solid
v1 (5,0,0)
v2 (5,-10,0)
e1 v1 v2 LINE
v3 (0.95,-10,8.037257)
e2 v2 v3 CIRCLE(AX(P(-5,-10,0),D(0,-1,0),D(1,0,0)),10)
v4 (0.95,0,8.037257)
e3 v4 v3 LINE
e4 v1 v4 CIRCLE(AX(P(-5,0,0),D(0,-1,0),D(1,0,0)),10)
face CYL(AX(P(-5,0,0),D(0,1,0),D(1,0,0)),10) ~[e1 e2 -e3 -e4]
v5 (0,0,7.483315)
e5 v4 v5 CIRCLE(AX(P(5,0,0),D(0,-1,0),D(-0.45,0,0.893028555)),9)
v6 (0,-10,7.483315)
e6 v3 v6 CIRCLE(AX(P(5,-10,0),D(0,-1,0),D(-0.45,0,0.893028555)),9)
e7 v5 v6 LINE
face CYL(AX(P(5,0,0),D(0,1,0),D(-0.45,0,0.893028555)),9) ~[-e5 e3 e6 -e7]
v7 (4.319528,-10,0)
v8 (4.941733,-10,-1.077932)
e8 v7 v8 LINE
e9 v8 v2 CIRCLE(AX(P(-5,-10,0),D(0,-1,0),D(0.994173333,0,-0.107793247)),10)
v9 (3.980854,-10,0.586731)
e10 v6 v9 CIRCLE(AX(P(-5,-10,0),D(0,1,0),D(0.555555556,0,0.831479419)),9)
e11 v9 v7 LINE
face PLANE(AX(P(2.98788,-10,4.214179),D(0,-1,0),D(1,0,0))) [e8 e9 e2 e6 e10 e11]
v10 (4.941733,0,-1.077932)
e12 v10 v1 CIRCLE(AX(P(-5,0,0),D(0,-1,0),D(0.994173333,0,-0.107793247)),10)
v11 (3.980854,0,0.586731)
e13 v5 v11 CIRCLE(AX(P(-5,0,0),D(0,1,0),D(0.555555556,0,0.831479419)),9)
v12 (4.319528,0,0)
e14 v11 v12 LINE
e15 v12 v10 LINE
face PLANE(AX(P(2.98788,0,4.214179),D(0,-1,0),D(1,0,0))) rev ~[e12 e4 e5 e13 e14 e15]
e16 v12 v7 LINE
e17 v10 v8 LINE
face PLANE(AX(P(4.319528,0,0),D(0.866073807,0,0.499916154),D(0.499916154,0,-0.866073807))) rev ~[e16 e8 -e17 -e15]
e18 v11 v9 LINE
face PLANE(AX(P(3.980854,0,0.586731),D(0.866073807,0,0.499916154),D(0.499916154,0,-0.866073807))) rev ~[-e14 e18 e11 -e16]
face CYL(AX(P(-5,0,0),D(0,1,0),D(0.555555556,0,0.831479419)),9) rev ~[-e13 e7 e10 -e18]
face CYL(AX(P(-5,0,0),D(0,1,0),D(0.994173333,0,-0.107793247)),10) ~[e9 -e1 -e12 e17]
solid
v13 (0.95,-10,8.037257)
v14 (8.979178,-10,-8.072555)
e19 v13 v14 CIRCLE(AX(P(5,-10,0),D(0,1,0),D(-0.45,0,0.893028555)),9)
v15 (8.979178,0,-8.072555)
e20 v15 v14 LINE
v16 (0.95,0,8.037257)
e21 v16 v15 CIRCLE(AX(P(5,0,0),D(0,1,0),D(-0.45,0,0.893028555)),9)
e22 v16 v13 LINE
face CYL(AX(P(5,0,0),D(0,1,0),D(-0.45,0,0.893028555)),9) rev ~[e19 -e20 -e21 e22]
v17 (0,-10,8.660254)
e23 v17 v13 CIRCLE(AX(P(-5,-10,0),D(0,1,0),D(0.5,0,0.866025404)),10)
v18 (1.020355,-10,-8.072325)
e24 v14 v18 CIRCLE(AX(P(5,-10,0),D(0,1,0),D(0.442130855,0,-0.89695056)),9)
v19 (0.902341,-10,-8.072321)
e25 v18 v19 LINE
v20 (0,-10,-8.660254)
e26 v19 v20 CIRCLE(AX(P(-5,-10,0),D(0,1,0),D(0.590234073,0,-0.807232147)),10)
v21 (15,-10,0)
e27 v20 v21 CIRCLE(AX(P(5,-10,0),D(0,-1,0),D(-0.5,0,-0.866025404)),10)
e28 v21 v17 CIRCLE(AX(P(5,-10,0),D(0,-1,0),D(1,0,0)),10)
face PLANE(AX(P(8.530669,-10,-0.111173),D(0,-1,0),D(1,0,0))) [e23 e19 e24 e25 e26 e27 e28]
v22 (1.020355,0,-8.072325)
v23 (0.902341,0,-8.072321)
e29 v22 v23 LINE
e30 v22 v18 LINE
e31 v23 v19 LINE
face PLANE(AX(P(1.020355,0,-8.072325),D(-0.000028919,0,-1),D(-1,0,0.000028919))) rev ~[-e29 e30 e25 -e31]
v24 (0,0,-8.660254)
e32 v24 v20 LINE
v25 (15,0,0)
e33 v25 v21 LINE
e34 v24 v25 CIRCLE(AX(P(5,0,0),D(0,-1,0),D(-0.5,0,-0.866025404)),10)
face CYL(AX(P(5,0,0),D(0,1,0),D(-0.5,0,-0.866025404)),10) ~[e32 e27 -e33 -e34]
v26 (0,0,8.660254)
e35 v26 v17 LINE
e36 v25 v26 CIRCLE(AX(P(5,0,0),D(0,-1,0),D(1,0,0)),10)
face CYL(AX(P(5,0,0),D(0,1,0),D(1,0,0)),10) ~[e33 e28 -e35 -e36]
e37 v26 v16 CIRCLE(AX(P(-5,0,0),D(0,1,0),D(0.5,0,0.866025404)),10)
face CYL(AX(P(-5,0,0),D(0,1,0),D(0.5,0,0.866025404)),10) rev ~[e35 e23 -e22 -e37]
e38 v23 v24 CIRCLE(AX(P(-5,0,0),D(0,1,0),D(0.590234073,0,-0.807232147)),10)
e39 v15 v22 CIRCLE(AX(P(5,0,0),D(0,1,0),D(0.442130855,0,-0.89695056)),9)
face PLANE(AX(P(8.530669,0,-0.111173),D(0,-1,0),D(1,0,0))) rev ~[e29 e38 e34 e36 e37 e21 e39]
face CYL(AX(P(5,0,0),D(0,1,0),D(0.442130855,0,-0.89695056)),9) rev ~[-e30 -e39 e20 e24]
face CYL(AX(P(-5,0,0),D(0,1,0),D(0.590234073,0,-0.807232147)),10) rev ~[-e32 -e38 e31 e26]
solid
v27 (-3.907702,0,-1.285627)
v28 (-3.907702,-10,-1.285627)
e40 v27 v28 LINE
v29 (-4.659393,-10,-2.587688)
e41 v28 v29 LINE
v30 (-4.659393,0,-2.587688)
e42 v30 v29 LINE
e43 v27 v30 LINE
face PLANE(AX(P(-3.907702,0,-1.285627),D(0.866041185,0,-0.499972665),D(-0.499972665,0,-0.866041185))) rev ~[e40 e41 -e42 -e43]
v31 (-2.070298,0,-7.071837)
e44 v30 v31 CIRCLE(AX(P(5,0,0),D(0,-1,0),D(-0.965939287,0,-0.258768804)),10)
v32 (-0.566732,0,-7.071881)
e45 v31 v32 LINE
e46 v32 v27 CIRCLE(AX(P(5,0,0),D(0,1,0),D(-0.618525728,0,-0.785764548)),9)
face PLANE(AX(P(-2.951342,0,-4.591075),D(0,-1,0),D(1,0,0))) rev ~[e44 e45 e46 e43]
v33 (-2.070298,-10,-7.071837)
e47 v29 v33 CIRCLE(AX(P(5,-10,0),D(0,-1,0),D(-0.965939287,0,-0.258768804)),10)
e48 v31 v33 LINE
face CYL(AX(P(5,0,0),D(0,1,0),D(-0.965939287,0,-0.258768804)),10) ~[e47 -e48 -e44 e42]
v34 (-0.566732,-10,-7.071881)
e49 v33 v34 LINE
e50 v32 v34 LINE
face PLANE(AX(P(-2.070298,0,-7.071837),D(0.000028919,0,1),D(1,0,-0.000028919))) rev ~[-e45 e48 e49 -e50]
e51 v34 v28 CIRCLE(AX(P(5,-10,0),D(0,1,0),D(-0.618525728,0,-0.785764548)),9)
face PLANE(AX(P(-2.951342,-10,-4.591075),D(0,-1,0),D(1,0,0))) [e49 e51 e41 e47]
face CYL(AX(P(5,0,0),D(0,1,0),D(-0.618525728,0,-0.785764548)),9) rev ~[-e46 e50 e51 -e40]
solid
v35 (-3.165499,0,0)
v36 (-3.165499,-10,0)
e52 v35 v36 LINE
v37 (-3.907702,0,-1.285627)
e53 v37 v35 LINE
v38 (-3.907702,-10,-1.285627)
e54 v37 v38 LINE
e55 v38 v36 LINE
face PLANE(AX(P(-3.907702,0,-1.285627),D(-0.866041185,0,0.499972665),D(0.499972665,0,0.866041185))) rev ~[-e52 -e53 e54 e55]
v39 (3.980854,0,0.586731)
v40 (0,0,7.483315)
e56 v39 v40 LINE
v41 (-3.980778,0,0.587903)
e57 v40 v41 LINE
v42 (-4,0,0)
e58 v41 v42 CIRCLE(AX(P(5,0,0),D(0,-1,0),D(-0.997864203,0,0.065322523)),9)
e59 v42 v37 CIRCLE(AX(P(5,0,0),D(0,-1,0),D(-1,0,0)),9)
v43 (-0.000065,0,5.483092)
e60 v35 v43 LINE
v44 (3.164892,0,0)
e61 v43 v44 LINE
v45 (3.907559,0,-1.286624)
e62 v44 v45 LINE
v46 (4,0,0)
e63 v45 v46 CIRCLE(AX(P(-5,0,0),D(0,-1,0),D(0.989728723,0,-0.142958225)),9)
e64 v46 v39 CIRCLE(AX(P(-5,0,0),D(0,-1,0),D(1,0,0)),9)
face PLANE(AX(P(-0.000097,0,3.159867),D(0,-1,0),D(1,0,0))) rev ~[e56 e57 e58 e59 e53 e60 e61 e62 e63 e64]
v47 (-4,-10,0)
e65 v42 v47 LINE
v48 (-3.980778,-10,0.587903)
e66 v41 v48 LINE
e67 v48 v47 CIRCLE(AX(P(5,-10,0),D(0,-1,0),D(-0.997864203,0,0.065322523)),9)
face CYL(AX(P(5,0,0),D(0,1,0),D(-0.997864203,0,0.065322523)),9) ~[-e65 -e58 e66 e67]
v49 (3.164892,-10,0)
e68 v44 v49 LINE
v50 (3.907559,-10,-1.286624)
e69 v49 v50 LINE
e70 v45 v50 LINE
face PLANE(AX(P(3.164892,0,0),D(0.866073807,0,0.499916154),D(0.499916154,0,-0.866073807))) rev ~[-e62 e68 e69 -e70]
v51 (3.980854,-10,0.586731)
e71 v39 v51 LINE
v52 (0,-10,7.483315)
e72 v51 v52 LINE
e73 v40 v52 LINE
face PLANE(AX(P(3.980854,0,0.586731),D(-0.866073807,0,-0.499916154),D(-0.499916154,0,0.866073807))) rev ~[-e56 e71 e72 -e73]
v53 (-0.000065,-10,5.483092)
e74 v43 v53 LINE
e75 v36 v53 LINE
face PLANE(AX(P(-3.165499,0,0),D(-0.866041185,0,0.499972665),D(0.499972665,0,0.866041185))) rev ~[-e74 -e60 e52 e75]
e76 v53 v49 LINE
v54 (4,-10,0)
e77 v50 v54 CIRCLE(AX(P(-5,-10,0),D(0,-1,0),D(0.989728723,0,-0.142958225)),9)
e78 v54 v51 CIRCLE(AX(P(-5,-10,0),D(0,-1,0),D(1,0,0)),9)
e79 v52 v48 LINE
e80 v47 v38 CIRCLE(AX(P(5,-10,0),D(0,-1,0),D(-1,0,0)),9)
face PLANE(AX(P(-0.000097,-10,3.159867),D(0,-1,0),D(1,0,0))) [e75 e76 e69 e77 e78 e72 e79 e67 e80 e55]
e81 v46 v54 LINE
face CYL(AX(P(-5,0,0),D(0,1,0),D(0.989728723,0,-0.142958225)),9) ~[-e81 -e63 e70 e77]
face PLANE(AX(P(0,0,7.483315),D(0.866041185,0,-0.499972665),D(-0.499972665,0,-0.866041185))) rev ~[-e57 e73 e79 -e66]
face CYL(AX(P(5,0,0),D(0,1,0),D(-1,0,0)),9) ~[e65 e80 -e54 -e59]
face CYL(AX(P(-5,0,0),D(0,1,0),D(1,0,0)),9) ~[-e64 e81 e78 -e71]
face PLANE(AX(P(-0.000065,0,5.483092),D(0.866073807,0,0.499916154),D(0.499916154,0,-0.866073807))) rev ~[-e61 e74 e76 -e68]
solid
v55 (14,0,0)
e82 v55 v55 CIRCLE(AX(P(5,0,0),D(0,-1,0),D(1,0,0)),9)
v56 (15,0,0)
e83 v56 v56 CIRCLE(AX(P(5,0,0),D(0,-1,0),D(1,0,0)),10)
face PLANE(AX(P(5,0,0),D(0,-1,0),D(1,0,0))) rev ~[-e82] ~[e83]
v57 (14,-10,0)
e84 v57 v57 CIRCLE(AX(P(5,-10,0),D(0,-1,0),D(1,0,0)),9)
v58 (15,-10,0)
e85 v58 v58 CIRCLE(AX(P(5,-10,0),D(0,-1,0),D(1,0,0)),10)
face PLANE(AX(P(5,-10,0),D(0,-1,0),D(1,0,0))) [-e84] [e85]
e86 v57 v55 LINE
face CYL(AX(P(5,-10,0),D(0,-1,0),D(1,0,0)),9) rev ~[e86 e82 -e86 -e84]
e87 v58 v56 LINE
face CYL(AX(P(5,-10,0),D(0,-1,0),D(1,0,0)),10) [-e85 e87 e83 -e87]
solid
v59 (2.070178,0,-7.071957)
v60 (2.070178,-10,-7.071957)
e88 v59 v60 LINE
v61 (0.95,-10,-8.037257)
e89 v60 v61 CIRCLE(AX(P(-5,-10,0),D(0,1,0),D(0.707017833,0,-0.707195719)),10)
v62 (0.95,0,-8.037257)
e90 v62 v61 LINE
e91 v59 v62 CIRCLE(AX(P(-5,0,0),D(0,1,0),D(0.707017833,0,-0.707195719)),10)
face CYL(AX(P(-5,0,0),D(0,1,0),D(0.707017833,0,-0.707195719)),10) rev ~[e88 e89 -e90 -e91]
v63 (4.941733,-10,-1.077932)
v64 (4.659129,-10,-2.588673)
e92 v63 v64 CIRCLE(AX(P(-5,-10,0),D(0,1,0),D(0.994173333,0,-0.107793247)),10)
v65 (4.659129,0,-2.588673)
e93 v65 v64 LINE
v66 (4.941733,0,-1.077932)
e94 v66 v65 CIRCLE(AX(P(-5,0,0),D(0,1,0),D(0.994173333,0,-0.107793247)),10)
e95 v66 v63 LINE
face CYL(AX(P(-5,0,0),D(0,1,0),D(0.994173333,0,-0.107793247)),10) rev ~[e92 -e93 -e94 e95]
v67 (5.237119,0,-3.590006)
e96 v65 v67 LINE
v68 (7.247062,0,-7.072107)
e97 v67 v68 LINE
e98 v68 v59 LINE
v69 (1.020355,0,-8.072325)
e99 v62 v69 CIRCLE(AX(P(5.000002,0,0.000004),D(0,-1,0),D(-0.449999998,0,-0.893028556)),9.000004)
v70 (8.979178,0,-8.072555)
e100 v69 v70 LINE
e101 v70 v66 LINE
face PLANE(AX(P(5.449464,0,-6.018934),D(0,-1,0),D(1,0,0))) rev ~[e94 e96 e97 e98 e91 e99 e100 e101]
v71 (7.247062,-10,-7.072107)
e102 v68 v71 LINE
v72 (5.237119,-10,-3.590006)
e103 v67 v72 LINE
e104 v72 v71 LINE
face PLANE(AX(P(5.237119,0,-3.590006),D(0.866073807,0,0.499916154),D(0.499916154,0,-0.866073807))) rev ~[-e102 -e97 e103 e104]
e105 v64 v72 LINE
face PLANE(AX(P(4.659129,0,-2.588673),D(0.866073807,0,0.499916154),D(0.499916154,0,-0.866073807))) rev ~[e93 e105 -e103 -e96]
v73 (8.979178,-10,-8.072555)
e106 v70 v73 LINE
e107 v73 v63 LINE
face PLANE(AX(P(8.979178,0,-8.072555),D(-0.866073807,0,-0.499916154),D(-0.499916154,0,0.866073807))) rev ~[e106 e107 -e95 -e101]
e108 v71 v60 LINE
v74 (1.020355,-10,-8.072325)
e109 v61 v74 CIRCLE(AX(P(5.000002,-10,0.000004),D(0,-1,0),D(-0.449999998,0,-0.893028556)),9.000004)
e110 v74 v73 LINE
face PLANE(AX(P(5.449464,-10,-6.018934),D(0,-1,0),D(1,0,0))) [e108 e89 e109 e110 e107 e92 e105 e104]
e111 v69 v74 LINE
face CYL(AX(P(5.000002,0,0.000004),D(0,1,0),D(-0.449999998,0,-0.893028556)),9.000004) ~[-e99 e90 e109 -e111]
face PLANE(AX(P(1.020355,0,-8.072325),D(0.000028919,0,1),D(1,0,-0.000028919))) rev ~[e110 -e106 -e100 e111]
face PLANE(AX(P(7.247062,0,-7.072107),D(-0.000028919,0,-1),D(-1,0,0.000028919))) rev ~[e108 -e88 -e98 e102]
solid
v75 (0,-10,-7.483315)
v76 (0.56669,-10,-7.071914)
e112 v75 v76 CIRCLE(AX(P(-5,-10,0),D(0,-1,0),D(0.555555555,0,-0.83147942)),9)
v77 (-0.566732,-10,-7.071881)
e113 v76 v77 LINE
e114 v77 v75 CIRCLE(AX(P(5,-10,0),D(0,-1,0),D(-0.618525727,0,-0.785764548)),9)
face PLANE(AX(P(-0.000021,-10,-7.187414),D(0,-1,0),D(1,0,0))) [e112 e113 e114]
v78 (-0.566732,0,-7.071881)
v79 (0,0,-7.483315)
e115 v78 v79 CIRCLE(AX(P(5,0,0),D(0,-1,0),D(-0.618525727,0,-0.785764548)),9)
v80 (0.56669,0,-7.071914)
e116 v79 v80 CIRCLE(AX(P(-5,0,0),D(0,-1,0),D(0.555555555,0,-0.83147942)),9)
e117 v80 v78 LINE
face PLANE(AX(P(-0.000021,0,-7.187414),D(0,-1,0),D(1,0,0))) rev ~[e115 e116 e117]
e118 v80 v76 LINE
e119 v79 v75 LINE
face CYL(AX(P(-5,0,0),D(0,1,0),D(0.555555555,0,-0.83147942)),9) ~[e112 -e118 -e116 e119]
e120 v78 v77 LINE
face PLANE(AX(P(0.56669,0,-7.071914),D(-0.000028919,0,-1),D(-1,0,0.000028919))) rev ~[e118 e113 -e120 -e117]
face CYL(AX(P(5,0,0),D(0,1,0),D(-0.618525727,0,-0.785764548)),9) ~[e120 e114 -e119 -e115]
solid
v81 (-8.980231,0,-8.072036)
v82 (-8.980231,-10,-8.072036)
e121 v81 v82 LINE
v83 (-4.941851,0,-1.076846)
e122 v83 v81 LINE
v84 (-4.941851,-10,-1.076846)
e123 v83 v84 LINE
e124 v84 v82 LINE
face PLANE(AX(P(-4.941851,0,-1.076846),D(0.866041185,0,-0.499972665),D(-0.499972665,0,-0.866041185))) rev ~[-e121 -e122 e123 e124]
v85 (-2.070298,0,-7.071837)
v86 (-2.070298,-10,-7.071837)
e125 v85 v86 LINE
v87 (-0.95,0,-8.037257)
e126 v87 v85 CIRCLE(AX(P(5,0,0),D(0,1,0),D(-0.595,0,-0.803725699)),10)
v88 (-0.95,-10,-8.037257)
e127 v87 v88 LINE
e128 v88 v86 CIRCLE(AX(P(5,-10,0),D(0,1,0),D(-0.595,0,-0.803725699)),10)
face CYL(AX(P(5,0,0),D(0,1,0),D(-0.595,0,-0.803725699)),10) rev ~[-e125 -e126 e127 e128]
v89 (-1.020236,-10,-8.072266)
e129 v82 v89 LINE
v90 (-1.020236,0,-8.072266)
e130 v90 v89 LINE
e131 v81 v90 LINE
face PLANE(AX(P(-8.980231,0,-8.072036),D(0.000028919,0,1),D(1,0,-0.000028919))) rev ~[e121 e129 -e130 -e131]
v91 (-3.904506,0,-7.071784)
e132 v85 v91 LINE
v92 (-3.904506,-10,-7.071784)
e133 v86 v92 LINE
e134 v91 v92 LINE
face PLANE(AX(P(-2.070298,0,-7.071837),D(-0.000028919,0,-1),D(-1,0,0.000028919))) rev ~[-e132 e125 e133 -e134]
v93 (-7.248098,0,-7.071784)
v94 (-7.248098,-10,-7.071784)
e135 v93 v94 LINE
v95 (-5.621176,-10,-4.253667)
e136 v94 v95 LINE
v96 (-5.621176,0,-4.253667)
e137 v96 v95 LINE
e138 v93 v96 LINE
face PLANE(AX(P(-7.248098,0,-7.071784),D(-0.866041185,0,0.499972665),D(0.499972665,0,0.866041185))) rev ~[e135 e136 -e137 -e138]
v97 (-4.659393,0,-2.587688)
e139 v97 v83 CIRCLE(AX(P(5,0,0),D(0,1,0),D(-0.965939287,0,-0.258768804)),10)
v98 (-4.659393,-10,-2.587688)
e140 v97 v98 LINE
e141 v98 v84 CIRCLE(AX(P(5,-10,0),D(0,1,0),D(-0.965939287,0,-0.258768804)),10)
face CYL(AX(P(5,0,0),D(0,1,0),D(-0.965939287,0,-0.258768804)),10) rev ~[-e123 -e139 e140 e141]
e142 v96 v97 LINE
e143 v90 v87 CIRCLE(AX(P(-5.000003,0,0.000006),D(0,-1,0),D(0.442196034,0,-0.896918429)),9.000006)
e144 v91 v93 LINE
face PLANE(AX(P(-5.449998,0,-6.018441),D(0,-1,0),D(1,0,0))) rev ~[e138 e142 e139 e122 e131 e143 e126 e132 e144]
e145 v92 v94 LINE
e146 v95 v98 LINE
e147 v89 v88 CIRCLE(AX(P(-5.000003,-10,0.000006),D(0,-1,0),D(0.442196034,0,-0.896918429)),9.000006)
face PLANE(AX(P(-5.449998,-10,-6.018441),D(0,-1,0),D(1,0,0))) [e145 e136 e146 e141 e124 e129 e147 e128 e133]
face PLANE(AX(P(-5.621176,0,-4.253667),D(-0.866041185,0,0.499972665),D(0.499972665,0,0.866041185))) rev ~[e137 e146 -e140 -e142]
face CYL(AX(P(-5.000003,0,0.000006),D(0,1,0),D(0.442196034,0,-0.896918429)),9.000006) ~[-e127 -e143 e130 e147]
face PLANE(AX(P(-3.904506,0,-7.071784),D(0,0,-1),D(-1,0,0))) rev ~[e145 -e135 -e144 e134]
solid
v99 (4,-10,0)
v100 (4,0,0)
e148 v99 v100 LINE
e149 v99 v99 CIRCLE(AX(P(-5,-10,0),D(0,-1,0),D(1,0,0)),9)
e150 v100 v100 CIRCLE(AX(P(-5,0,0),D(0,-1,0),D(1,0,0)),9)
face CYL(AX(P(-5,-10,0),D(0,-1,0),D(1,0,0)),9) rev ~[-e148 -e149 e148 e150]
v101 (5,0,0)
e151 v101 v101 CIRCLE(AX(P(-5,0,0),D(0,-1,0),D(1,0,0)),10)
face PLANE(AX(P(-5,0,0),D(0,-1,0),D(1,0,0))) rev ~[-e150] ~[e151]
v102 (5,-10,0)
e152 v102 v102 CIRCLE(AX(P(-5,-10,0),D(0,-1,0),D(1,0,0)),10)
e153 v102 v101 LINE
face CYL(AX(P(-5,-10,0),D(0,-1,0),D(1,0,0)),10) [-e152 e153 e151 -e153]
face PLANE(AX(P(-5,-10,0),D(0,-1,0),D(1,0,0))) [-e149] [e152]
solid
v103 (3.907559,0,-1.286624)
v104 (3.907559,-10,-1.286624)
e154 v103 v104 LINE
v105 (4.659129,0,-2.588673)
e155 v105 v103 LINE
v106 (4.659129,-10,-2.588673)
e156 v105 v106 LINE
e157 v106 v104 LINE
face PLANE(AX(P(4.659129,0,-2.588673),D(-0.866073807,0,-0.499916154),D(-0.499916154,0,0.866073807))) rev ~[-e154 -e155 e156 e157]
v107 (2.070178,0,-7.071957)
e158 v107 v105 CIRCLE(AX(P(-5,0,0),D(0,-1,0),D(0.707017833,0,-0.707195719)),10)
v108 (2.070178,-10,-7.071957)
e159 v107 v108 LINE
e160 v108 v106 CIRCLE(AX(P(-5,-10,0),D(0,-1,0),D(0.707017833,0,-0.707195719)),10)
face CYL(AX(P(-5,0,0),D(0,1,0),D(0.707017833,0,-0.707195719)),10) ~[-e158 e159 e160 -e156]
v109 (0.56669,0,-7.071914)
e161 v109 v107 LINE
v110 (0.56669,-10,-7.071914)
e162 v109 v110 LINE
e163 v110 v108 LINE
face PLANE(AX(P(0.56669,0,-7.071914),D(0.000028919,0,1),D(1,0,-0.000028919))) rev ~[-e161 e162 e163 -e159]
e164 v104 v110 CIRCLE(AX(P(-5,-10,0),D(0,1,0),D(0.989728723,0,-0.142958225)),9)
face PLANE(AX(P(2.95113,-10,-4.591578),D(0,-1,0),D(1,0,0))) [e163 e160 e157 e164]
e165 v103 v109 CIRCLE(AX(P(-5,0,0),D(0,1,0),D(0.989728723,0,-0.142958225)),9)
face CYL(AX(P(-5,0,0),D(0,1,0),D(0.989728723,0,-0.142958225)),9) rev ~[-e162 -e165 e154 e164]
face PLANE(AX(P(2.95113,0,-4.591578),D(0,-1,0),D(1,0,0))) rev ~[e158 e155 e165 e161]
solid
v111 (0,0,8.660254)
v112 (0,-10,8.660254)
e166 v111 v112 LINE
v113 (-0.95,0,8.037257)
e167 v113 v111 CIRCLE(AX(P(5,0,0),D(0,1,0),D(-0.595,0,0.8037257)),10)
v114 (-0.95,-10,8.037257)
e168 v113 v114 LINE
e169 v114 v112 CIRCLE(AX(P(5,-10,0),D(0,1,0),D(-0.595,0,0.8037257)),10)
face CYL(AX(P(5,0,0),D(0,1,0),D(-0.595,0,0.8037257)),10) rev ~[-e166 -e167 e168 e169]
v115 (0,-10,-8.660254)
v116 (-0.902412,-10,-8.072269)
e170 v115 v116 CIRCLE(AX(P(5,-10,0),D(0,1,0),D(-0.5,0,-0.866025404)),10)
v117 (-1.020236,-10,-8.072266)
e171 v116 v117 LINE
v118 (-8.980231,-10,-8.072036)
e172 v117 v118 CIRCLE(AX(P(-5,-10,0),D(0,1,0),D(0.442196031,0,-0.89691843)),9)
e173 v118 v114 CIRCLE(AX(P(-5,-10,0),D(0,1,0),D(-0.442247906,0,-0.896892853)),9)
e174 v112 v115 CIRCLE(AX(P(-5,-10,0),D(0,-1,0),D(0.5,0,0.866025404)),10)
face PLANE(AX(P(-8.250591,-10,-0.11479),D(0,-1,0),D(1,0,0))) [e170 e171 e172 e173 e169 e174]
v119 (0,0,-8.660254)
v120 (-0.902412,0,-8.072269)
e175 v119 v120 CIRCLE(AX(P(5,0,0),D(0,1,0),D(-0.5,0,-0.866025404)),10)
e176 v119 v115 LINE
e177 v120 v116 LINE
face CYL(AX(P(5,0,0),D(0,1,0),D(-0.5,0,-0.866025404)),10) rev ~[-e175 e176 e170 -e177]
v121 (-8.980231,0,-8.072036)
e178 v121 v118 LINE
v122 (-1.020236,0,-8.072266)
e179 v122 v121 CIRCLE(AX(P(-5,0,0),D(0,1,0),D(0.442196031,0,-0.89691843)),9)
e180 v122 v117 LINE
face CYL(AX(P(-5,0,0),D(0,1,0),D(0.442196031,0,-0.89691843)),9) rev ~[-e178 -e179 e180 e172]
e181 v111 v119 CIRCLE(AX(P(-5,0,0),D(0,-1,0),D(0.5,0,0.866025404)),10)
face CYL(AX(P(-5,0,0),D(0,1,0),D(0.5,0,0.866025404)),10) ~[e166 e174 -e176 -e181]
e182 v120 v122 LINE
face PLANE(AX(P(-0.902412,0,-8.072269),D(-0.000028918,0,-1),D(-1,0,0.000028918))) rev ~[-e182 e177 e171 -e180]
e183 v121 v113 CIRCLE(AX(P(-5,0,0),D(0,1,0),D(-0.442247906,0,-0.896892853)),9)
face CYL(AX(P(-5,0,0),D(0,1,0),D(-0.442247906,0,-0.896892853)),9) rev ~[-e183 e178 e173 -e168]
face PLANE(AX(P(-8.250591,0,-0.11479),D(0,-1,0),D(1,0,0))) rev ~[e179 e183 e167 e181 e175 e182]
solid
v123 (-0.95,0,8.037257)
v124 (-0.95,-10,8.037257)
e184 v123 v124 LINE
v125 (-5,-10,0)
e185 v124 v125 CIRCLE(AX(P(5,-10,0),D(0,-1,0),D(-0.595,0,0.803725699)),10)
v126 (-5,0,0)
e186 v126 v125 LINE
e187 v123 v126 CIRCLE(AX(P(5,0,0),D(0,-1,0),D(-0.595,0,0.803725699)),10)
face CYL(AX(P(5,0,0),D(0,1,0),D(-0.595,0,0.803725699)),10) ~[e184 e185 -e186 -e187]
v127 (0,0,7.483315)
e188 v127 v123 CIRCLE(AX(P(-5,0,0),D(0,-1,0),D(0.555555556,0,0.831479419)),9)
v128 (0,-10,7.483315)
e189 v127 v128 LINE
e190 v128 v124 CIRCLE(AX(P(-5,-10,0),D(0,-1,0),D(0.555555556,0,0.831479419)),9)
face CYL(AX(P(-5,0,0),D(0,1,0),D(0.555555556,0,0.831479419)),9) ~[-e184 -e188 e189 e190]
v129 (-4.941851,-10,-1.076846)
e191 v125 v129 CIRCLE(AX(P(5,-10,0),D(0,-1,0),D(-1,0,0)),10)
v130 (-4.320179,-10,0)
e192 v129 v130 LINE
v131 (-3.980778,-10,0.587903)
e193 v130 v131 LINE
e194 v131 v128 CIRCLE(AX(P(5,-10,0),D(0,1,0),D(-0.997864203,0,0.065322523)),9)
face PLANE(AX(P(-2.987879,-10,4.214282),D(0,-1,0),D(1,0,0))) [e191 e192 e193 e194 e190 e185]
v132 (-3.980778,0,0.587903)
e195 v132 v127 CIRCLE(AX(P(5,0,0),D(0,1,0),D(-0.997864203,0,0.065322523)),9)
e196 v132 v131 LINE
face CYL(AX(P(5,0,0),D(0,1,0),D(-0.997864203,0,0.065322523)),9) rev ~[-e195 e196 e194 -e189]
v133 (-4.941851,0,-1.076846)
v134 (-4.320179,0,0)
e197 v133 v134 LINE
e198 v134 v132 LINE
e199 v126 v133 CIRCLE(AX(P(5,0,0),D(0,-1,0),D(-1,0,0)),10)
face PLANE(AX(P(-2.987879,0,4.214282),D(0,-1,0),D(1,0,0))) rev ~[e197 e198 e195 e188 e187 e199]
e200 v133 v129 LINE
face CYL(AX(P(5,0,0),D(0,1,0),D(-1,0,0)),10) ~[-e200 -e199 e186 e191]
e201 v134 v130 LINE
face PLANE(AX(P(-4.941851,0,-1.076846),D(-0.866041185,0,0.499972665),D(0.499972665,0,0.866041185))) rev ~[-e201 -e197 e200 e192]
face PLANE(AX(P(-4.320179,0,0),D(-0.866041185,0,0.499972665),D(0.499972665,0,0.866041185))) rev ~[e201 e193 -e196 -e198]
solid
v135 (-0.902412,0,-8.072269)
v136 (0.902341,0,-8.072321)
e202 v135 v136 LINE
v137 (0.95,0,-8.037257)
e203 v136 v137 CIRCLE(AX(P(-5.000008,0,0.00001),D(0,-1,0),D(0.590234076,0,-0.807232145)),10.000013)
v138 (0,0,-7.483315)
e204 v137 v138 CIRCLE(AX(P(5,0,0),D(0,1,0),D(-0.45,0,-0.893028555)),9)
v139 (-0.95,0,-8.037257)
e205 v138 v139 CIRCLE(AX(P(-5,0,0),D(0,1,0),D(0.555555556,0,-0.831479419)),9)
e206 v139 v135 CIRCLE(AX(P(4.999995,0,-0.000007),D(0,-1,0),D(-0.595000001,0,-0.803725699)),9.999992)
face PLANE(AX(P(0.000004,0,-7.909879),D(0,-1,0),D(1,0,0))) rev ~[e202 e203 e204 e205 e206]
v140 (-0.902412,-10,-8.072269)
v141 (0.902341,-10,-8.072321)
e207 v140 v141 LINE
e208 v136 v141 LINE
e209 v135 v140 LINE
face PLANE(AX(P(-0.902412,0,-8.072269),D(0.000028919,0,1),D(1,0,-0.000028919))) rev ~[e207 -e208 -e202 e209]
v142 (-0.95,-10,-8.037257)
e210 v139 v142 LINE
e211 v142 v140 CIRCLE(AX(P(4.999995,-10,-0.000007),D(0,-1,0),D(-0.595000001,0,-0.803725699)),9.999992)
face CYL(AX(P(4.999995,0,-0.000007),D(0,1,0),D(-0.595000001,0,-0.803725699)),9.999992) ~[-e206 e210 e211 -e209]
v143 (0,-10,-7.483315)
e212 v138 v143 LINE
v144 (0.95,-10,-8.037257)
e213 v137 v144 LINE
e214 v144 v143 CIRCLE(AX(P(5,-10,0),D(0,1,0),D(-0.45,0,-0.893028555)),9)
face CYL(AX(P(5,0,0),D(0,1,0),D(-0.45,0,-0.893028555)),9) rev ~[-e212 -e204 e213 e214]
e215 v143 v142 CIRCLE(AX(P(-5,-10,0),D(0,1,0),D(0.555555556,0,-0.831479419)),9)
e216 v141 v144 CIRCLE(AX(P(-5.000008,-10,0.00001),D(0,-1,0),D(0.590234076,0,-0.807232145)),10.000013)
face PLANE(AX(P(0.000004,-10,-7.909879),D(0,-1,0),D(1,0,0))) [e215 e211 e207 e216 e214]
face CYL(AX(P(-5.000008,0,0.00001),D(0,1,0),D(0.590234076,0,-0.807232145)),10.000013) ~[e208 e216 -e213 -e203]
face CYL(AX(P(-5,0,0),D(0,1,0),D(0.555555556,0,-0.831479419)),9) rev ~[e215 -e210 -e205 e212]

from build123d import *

# Parameters (mm, degrees)
F1_DEPTH = 10
F2_R     = 10
F2_R_2   = 9
F3_DEPTH = 10
F4_R     = 10
F4_R_2   = 9
F5_DEPTH = 10


with BuildPart() as f1:
    # F0 (on Front) → F1 (new body)
    with BuildSketch(Plane.XZ):
        with BuildLine():
            ThreePointArc((0, 8.6602540378), (0.4838541491, 8.3622570919), (0.95, 8.0372569948))
            ThreePointArc((0.95, 8.0372569948), (9.7196398168, 7.6632238647), (14, 0))
            ThreePointArc((14, 0), (12.6424014311, -4.7532831144), (8.9791776966, -8.0725550391))
            ThreePointArc((8.9791776966, -8.0725550391), (4.9997397328, -8.9999999962), (1.0203554164, -8.0723248813))
            Line((1.0203554164, -8.0723248813), (0.9023407315, -8.0723214684))
            ThreePointArc((0.9023407315, -8.0723214684), (0.4590909988, -8.3784440958), (0, -8.6602540378))
            ThreePointArc((0, -8.6602540378), (10, -8.6602540378), (15, 0))
            ThreePointArc((15, 0), (10, 8.6602540378), (0, 8.6602540378))
        make_face()
    extrude(amount=F1_DEPTH)


with BuildPart() as f1b:
    # F0 (on Front) → F1, piece 2 (new body)
    with BuildSketch(Plane.XZ):
        with BuildLine():
            ThreePointArc((-8.9802311497, -8.0720356785), (-13.054721878, 4.015153231), (-0.95, 8.0372569948))
            ThreePointArc((-0.95, 8.0372569948), (-0.4838541491, 8.3622570919), (0, 8.6602540378))
            ThreePointArc((0, 8.6602540378), (-15, 0), (0, -8.6602540378))
            ThreePointArc((0, -8.6602540378), (-0.4591280413, -8.3784199602), (-0.9024121095, -8.0722692775))
            Line((-0.9024121095, -8.0722692775), (-1.0202357206, -8.0722658703))
            ThreePointArc((-1.0202357206, -8.0722658703), (-5.0002602672, -8.9999999962), (-8.9802311497, -8.0720356785))
        make_face()
    extrude(amount=F1_DEPTH)


with BuildPart() as f1c:
    # F0 (on Front) → F1, piece 3 (new body)
    with BuildSketch(Plane.XZ):
        with BuildLine():
            Line((-5.6211760394, -4.2536667951), (-4.6593928686, -2.5876880434))
            ThreePointArc((-4.6593928686, -2.5876880434), (-4.8296923359, -1.8377019841), (-4.9418510408, -1.0768462669))
            Line((-4.9418510408, -1.0768462669), (-8.9802311497, -8.0720356785))
            Line((-8.9802311497, -8.0720356785), (-1.0202357206, -8.0722658703))
            ThreePointArc((-1.0202357206, -8.0722658703), (-0.9850797018, -8.0548379871), (-0.95, -8.0372569948))
            ThreePointArc((-0.95, -8.0372569948), (-1.5280203219, -7.5752855178), (-2.0702980916, -7.0718374484))
            Line((-2.0702980916, -7.0718374484), (-3.9045057144, -7.0717844057))
            Line((-3.9045057144, -7.0717844057), (-7.2480984047, -7.0717844057))
            Line((-7.2480984047, -7.0717844057), (-5.6211760394, -4.2536667951))
        make_face()
    extrude(amount=F1_DEPTH)


with BuildPart() as f1d:
    # F0 (on Front) → F1, piece 4 (new body)
    with BuildSketch(Plane.XZ):
        with BuildLine():
            Line((-4, 0), (-3.1654993788, 0))
            Line((-3.1654993788, 0), (-6.52584e-05, 5.4830923897))
            Line((-6.52584e-05, 5.4830923897), (3.1648918599, 0))
            Line((3.1648918599, 0), (4, 0))
            ThreePointArc((4, 0), (3.9952123452, 0.2935214892), (3.9808544745, 0.5867306941))
            Line((3.9808544745, 0.5867306941), (0, 7.4833147735))
            Line((0, 7.4833147735), (-3.9807778283, 0.5879027113))
            ThreePointArc((-3.9807778283, 0.5879027113), (-3.9951931734, 0.2941084365), (-4, 0))
        make_face()
        with BuildLine():
            Line((-3.9077024465, -1.2856271329), (-3.1654993788, 0))
            Line((-3.1654993788, 0), (-4, 0))
            ThreePointArc((-4, 0), (-3.9768959562, -0.6444679905), (-3.9077024465, -1.2856271329))
        make_face()
        with BuildLine():
            Line((4, 0), (3.1648918599, 0))
            Line((3.1648918599, 0), (3.9075585107, -1.2866240234))
            ThreePointArc((3.9075585107, -1.2866240234), (3.9768598796, -0.6449703107), (4, 0))
        make_face()
    extrude(amount=F1_DEPTH)


with BuildPart() as f1e:
    # F0 (on Front) → F1, piece 5 (new body)
    with BuildSketch(Plane.XZ):
        with BuildLine():
            Line((-5, 0), (-4.320178876, 0))
            Line((-4.320178876, 0), (-3.9807778283, 0.5879027113))
            ThreePointArc((-3.9807778283, 0.5879027113), (-2.794370664, 4.4997539879), (0, 7.4833147735))
            ThreePointArc((0, 7.4833147735), (-0.4665313505, 7.7748094513), (-0.95, 8.0372569948))
            ThreePointArc((-0.95, 8.0372569948), (-3.9302855497, 4.5), (-5, 0))
        make_face()
        with BuildLine():
            Line((-4.9418510408, -1.0768462669), (-4.320178876, 0))
            Line((-4.320178876, 0), (-5, 0))
            ThreePointArc((-5, 0), (-4.9854521782, -0.539207563), (-4.9418510408, -1.0768462669))
        make_face()
    extrude(amount=F1_DEPTH)


with BuildPart() as f1f:
    # F0 (on Front) → F1, piece 6 (new body)
    with BuildSketch(Plane.XZ):
        with BuildLine():
            ThreePointArc((0, 7.4833147735), (2.7946642616, 4.4992453867), (3.9808544745, 0.5867306941))
            Line((3.9808544745, 0.5867306941), (4.3195278644, 0))
            Line((4.3195278644, 0), (5, 0))
            ThreePointArc((5, 0), (3.9302855497, 4.5), (0.95, 8.0372569948))
            ThreePointArc((0.95, 8.0372569948), (0.4665313505, 7.7748094513), (0, 7.4833147735))
        make_face()
        with BuildLine():
            Line((5, 0), (4.3195278644, 0))
            Line((4.3195278644, 0), (4.9417333291, -1.0779324713))
            ThreePointArc((4.9417333291, -1.0779324713), (4.9854227074, -0.5397530495), (5, 0))
        make_face()
    extrude(amount=F1_DEPTH)


with BuildPart() as f1g:
    # F0 (on Front) → F1, piece 7 (new body)
    with BuildSketch(Plane.XZ):
        with BuildLine():
            ThreePointArc((-0.5667315474, -7.0718809294), (-2.7940678153, -4.5002785347), (-3.9077024465, -1.2856271329))
            Line((-3.9077024465, -1.2856271329), (-4.6593928686, -2.5876880434))
            ThreePointArc((-4.6593928686, -2.5876880434), (-3.6601119437, -5.0002461062), (-2.0702980916, -7.0718374484))
            Line((-2.0702980916, -7.0718374484), (-0.5667315474, -7.0718809294))
        make_face()
    extrude(amount=F1_DEPTH)


with BuildPart() as f1h:
    # F0 (on Front) → F1, piece 8 (new body)
    with BuildSketch(Plane.XZ):
        with BuildLine():
            Line((4.6591288943, -2.5886732129), (3.9075585107, -1.2866240234))
            ThreePointArc((3.9075585107, -1.2866240234), (2.7938027304, -4.5007376063), (0.5666899079, -7.0719137063))
            Line((0.5666899079, -7.0719137063), (2.0701783268, -7.0719571851))
            ThreePointArc((2.0701783268, -7.0719571851), (3.6598145949, -5.0007610603), (4.6591288943, -2.5886732129))
        make_face()
    extrude(amount=F1_DEPTH)


with BuildPart() as f1i:
    # F0 (on Front) → F1, piece 9 (new body)
    with BuildSketch(Plane.XZ):
        with BuildLine():
            ThreePointArc((4.9417333291, -1.0779324713), (4.829498175, -1.8387402284), (4.6591288943, -2.5886732129))
            Line((4.6591288943, -2.5886732129), (5.2371193526, -3.5900059213))
            Line((5.2371193526, -3.5900059213), (7.2470618219, -7.0721068932))
            Line((7.2470618219, -7.0721068932), (2.0701783268, -7.0719571851))
            ThreePointArc((2.0701783268, -7.0719571851), (1.5279561768, -7.5753407946), (0.95, -8.0372569948))
            ThreePointArc((0.95, -8.0372569948), (0.9851394204, -8.0548677535), (1.0203554164, -8.0723248813))
            Line((1.0203554164, -8.0723248813), (8.9791776966, -8.0725550391))
            Line((8.9791776966, -8.0725550391), (4.9417333291, -1.0779324713))
        make_face()
    extrude(amount=F1_DEPTH)


with BuildPart() as f1j:
    # F0 (on Front) → F1, piece 10 (new body)
    with BuildSketch(Plane.XZ):
        with BuildLine():
            Line((0.5666899079, -7.0719137063), (-0.5667315474, -7.0718809294))
            ThreePointArc((-0.5667315474, -7.0718809294), (-0.2873692278, -7.2831124287), (0, -7.4833147735))
            ThreePointArc((0, -7.4833147735), (0.2873477862, -7.2831279948), (0.5666899079, -7.0719137063))
        make_face()
    extrude(amount=F1_DEPTH)


with BuildPart() as f1k:
    # F0 (on Front) → F1, piece 11 (new body)
    with BuildSketch(Plane.XZ):
        with BuildLine():
            ThreePointArc((0.95, -8.0372569948), (0.4665313505, -7.7748094513), (0, -7.4833147735))
            ThreePointArc((0, -7.4833147735), (-0.4665313505, -7.7748094513), (-0.95, -8.0372569948))
            ThreePointArc((-0.95, -8.0372569948), (-0.9262319115, -8.05479828), (-0.9024121095, -8.0722692775))
            Line((-0.9024121095, -8.0722692775), (0.9023407315, -8.0723214684))
            ThreePointArc((0.9023407315, -8.0723214684), (0.9261962997, -8.0548244808), (0.95, -8.0372569948))
        make_face()
    extrude(amount=F1_DEPTH)


with BuildPart() as f3:
    # F2 (on face) → F3 (new body)
    with BuildSketch(Plane.XZ.offset(10)):
        with Locations((-5, 0)):
            Circle(F2_R)
        with Locations((-5, 0)):
            Circle(F2_R_2, mode=Mode.SUBTRACT)
    extrude(amount=-F3_DEPTH)


with BuildPart() as f5:
    # F4 (on face) → F5 (new body)
    with BuildSketch(Plane.XZ.offset(10)):
        with Locations((5, 0)):
            Circle(F4_R)
        with Locations((5, 0)):
            Circle(F4_R_2, mode=Mode.SUBTRACT)
    extrude(amount=-F5_DEPTH)


solid = Compound([f1.part, f1b.part, f1c.part, f1d.part, f1e.part, f1f.part, f1g.part, f1h.part, f1i.part, f1j.part, f1k.part, f3.part, f5.part])
